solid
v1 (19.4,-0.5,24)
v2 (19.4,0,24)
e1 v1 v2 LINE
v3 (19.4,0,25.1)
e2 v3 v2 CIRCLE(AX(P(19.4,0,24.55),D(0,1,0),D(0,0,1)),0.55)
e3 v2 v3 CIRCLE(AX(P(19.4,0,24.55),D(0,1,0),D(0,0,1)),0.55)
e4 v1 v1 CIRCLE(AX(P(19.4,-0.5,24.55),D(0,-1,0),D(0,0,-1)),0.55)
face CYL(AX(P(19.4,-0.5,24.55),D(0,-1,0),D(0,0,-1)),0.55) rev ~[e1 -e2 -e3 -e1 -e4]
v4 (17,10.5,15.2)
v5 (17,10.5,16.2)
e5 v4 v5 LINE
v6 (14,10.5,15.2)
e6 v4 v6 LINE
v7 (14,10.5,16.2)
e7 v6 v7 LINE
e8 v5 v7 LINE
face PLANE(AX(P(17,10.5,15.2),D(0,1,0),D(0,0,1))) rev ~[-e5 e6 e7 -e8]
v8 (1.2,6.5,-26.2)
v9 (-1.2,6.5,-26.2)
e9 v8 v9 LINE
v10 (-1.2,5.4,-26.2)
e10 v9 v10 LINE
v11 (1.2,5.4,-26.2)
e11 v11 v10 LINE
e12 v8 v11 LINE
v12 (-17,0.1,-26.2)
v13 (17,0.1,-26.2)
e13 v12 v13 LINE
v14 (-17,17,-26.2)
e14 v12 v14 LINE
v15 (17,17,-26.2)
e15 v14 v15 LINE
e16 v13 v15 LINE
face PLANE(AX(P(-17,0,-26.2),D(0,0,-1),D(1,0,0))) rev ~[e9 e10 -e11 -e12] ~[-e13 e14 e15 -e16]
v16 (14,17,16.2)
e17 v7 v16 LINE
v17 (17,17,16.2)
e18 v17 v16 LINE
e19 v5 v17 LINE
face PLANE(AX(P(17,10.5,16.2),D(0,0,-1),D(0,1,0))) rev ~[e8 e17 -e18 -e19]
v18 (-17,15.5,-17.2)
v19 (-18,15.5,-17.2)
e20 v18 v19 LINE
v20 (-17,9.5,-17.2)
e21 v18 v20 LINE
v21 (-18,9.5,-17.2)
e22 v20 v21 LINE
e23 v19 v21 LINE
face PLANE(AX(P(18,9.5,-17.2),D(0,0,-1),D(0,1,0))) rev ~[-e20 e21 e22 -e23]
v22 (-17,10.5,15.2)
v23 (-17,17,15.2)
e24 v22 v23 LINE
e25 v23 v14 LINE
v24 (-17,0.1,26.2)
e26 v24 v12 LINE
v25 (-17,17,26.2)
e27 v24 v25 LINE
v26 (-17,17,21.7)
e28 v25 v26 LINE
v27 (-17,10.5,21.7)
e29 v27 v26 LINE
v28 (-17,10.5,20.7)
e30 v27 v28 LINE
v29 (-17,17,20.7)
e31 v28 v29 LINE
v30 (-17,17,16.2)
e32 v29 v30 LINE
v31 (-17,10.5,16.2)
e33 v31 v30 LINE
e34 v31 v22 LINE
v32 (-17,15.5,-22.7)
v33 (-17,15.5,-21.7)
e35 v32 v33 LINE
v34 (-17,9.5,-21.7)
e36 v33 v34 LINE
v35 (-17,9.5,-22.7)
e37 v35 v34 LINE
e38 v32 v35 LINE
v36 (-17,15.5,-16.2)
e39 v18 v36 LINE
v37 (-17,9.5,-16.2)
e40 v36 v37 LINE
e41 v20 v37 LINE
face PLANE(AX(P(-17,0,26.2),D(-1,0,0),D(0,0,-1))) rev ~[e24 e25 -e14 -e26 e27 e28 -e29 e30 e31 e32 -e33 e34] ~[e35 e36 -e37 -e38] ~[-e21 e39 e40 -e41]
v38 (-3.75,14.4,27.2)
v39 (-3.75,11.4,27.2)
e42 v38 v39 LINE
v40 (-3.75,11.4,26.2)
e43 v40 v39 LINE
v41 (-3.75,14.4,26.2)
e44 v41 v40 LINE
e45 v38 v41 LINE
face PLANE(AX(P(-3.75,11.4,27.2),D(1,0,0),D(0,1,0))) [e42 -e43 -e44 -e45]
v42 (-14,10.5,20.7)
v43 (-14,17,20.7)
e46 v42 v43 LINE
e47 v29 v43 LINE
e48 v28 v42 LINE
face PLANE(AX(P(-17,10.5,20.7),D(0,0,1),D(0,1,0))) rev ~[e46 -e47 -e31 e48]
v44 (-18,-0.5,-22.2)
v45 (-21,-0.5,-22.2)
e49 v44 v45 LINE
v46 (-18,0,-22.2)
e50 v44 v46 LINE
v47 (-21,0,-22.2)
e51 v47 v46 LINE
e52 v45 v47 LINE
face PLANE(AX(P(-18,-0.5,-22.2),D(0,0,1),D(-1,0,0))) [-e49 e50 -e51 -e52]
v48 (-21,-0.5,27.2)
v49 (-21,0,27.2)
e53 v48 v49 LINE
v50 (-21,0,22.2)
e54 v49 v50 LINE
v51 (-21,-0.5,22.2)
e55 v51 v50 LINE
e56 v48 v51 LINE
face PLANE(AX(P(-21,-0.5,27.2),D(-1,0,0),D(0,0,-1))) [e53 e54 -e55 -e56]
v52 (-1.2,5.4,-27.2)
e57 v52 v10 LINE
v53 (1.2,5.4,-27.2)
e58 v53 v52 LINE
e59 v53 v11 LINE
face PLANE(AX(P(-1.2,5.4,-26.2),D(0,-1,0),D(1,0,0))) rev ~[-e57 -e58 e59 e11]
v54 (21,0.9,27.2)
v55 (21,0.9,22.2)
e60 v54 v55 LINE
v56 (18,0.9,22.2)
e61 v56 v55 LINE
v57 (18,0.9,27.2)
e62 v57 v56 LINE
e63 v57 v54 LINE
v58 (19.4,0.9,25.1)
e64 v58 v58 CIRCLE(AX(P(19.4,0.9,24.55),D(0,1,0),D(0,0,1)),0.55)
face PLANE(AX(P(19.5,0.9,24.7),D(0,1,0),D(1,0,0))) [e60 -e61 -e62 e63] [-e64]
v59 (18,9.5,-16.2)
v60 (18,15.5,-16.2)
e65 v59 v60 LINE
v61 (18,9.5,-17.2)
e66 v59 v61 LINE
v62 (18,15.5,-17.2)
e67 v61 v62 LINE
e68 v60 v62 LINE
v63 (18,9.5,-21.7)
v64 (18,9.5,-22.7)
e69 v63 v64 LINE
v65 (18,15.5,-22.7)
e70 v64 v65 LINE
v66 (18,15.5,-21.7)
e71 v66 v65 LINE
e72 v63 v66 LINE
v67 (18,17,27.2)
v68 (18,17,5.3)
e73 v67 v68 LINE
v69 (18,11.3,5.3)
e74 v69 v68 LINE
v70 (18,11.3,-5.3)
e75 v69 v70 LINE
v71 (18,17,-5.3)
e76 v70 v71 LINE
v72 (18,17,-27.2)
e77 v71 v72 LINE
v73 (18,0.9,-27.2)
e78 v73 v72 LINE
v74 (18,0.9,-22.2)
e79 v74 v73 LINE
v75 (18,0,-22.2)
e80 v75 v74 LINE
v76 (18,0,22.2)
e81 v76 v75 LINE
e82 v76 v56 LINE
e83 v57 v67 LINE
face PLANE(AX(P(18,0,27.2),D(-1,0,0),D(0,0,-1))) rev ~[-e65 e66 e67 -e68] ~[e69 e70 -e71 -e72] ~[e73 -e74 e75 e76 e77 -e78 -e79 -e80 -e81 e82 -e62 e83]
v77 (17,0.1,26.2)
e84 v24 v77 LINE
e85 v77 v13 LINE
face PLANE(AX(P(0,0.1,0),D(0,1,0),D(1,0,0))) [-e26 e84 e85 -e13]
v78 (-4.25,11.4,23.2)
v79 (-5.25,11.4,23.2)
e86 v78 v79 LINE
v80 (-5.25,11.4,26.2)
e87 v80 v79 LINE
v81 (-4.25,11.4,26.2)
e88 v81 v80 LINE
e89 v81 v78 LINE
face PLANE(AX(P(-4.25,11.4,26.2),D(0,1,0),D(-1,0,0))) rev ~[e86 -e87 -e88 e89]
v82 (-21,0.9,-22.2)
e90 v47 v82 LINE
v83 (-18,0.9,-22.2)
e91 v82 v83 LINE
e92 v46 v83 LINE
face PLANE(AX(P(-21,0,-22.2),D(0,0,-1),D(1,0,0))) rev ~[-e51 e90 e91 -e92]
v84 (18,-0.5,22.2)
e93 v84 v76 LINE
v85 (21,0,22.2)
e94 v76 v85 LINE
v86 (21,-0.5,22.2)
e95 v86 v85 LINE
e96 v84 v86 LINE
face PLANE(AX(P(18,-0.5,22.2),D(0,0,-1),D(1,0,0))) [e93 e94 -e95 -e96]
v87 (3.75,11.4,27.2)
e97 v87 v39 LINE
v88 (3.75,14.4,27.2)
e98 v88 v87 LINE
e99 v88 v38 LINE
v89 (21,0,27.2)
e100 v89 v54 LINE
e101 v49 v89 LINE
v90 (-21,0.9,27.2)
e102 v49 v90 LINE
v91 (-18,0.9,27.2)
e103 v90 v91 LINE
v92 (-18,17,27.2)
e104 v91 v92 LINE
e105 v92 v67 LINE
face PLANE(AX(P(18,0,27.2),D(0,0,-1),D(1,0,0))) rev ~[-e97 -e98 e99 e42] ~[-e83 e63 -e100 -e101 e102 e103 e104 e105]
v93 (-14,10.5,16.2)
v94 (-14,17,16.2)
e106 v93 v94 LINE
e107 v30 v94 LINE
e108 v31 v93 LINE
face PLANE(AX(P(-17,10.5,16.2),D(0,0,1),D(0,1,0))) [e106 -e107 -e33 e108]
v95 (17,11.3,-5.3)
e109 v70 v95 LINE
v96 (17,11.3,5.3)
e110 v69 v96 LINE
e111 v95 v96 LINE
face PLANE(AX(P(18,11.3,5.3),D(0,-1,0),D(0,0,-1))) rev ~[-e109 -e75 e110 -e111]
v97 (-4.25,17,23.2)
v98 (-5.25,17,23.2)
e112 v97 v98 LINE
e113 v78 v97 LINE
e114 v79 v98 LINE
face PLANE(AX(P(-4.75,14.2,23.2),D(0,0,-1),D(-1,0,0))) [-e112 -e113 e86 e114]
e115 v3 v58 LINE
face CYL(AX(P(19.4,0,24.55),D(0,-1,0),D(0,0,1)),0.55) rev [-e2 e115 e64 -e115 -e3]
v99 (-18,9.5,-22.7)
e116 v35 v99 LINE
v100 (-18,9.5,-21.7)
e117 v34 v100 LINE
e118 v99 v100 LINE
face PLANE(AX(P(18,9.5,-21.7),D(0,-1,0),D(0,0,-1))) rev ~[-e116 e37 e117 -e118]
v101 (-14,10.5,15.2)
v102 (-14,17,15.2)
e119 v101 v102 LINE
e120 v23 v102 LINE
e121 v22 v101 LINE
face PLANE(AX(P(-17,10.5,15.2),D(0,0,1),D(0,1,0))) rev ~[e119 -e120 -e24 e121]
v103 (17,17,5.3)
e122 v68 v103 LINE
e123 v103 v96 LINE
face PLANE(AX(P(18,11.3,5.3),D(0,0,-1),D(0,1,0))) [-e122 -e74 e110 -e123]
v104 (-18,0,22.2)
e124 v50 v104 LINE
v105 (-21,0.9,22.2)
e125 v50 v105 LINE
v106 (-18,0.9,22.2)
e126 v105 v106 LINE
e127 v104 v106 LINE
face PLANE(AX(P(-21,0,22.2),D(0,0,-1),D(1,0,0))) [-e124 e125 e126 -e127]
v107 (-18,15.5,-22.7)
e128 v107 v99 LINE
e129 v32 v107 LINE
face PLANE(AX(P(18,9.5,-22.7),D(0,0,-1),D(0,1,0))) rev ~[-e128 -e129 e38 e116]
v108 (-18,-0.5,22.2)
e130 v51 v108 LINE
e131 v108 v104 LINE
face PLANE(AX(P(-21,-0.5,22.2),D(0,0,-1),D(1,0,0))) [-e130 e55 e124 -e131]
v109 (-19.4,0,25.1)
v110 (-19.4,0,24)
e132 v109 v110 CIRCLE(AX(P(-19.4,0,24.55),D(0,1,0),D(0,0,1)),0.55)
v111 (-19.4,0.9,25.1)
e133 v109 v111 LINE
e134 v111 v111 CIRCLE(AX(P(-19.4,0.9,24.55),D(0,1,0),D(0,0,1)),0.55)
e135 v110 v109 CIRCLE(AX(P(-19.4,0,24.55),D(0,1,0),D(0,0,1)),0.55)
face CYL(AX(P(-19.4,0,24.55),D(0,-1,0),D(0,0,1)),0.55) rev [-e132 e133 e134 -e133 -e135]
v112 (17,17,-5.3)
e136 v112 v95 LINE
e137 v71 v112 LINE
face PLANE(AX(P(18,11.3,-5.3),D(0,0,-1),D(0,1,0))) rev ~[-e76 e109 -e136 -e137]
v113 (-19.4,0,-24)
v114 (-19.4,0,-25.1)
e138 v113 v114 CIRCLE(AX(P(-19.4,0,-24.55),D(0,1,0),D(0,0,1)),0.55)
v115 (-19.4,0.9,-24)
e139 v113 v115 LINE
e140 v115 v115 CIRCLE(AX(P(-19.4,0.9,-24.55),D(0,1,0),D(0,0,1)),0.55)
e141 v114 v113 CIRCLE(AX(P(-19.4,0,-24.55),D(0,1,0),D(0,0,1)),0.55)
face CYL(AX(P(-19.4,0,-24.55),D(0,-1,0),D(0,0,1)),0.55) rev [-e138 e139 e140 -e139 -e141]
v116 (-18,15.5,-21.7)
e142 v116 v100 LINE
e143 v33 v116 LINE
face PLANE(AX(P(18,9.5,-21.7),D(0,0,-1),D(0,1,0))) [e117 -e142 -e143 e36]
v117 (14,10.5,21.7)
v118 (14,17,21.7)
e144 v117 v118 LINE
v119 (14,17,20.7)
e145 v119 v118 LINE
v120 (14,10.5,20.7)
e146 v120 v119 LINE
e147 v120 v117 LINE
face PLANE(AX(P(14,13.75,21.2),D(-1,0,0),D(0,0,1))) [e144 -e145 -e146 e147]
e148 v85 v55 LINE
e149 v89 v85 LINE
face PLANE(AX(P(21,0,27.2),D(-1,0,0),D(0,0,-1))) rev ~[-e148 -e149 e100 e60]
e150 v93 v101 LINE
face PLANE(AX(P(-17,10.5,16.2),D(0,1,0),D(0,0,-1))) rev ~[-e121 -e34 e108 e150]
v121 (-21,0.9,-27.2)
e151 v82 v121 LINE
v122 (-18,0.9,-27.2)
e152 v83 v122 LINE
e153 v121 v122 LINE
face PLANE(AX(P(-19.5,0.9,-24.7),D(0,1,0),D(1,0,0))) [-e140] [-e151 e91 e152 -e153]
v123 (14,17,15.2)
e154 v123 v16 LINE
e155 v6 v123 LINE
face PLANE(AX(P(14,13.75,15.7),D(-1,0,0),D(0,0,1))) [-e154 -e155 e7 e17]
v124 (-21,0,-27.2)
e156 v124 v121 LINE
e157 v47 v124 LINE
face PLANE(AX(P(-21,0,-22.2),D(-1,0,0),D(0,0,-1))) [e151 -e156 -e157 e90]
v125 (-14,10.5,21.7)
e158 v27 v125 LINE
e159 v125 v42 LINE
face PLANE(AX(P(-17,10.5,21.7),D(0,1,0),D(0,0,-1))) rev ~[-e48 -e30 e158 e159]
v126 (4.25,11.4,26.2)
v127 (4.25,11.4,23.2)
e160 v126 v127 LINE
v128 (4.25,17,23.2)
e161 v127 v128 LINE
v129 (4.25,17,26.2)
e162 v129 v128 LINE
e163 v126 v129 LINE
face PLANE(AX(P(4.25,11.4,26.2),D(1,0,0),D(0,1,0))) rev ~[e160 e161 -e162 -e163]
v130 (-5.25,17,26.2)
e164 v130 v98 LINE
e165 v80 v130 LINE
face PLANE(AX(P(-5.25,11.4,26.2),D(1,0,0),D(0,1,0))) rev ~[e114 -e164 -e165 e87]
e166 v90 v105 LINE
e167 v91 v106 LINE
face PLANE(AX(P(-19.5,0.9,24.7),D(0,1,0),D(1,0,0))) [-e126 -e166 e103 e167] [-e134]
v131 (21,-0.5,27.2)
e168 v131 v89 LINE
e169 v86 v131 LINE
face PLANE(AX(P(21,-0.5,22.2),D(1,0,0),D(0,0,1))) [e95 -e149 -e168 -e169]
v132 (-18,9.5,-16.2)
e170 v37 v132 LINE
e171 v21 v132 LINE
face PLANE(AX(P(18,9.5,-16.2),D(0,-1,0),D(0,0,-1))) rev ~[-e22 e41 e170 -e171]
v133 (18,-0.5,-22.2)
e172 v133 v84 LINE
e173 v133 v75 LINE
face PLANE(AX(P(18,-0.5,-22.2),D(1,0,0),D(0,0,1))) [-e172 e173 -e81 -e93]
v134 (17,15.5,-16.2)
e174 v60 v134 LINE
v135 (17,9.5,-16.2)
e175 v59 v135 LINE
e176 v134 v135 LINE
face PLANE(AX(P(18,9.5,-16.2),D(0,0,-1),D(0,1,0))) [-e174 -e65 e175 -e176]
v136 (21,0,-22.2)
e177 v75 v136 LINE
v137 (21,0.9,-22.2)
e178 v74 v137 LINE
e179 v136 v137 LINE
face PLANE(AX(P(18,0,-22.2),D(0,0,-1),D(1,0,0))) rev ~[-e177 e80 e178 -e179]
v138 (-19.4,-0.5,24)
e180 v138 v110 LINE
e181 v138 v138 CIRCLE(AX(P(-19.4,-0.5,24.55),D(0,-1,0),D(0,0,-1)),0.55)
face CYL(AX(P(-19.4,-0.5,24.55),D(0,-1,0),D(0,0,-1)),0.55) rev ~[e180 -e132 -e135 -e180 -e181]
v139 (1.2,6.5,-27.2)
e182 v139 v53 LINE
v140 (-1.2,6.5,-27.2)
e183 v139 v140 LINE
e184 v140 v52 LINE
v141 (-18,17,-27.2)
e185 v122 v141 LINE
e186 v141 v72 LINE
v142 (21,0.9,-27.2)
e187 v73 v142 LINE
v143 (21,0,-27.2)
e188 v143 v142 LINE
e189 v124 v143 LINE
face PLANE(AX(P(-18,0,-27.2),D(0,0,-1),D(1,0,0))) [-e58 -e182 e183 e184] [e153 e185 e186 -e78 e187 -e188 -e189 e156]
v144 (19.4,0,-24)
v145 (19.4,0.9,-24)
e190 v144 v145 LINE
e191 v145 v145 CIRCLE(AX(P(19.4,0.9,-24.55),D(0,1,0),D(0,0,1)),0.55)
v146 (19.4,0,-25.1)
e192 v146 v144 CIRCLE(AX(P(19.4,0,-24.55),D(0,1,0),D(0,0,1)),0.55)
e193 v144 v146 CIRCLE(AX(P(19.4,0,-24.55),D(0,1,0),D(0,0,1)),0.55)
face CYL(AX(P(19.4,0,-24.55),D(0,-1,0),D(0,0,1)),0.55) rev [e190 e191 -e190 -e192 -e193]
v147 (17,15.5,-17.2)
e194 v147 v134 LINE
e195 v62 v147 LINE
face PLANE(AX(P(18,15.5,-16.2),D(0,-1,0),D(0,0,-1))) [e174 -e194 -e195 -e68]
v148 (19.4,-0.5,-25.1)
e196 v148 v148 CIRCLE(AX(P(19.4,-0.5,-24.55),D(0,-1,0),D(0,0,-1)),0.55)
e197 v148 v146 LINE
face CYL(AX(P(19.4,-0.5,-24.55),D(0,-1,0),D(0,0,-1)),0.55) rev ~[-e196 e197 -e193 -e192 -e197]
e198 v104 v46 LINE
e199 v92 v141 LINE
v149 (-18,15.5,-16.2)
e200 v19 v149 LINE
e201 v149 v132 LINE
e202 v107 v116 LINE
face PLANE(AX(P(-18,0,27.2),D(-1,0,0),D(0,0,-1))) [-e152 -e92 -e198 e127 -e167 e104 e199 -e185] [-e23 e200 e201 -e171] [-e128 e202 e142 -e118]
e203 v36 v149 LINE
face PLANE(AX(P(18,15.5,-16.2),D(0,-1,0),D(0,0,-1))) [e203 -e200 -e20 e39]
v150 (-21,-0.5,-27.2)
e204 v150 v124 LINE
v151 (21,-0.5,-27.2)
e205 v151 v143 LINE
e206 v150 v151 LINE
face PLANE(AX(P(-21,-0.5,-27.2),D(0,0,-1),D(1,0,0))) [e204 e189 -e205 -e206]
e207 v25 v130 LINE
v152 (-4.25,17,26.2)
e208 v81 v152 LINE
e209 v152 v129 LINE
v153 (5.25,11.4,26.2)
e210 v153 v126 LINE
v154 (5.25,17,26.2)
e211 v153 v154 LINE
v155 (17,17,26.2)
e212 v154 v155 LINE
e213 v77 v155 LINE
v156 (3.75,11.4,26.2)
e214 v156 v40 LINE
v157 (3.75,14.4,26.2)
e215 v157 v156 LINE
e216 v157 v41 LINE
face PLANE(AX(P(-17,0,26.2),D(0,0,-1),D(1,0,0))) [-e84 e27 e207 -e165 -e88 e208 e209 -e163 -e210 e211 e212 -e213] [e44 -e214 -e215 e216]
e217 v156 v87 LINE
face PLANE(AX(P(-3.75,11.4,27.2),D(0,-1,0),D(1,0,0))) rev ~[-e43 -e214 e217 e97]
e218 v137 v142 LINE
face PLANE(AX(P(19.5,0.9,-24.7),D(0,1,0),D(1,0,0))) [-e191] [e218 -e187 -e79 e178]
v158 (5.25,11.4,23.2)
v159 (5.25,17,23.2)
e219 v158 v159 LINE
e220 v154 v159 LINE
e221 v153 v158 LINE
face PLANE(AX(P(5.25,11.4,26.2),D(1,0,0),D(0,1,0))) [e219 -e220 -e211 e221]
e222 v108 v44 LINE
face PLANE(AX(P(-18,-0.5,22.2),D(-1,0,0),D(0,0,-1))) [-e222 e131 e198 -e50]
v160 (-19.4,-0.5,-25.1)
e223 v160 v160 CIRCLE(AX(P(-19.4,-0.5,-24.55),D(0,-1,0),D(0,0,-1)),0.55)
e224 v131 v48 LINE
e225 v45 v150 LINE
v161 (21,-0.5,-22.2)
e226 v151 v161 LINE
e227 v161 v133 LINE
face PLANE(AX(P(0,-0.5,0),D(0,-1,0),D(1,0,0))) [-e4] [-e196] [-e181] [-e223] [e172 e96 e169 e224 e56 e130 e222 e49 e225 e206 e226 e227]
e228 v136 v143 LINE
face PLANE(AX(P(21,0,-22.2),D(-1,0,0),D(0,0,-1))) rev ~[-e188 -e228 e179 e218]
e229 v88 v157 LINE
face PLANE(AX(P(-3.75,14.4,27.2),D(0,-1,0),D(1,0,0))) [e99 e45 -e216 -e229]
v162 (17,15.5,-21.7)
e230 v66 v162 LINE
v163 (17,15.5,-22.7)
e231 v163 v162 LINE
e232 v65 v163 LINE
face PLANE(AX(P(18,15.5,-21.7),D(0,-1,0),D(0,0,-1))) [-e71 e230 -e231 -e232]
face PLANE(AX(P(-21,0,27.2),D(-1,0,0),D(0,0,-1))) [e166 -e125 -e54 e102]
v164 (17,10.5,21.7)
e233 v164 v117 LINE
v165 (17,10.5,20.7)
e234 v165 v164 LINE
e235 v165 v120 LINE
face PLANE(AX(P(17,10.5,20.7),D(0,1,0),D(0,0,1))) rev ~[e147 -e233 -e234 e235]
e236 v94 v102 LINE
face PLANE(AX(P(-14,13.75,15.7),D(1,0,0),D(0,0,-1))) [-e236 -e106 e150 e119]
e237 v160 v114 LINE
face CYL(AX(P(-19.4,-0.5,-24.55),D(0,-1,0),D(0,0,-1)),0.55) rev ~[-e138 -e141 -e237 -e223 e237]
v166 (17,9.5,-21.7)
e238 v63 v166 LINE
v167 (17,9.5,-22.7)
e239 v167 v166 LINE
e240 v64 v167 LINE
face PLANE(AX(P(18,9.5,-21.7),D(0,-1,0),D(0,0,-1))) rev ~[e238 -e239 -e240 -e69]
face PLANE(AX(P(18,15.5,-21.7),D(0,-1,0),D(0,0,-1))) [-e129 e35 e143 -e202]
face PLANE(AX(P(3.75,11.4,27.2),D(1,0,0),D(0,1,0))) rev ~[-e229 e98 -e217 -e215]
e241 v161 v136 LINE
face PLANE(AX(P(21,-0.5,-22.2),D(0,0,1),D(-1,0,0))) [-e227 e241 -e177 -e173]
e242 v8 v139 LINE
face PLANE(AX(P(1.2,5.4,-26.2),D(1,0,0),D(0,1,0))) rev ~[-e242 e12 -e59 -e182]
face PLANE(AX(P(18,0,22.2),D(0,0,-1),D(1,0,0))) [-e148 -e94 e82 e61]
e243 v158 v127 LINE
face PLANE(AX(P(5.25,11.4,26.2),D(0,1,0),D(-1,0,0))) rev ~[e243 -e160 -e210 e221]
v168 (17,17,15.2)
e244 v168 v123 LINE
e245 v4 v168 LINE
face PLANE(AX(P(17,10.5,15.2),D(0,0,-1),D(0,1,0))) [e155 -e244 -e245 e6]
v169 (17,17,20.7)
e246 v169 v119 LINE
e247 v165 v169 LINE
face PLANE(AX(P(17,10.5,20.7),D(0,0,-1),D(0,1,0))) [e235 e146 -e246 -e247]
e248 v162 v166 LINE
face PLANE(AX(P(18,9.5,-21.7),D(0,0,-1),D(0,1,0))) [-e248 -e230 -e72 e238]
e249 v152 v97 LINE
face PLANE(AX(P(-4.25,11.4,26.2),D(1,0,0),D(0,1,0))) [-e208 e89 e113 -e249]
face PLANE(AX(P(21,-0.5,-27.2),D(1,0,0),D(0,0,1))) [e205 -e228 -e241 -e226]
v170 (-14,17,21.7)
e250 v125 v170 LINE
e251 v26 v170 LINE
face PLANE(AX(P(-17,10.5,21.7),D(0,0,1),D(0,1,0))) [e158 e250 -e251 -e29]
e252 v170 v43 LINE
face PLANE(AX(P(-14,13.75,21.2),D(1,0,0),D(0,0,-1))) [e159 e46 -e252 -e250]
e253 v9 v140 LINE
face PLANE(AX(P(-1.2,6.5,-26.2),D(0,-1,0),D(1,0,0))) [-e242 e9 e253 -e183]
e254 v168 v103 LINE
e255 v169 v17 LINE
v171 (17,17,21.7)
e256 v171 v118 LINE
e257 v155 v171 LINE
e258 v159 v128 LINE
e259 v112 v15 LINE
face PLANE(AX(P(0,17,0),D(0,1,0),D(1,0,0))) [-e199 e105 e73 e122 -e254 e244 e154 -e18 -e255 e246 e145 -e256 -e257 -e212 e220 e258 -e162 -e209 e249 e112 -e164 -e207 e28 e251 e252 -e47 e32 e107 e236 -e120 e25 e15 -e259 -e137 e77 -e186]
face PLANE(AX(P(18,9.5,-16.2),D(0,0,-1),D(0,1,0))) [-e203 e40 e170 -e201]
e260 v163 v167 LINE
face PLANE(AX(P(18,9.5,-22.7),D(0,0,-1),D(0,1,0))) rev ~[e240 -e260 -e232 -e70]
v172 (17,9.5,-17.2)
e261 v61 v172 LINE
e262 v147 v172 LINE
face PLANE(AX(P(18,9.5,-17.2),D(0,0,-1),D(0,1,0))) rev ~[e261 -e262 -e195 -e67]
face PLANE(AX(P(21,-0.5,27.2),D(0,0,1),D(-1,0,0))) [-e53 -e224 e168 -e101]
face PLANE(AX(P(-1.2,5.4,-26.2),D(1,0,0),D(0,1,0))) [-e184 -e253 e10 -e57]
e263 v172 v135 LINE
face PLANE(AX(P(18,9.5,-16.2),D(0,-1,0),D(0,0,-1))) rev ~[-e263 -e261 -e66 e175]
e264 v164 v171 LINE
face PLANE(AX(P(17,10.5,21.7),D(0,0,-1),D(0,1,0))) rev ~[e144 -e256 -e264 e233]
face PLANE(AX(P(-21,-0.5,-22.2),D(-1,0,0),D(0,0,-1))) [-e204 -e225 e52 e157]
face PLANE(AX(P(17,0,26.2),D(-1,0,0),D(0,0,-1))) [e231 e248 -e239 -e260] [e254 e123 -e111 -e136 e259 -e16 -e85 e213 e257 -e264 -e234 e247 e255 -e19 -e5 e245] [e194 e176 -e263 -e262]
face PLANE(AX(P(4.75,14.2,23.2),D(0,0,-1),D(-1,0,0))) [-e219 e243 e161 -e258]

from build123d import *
from build123d.topology import SkipClean

# Parameters (mm, degrees)
ESBO_O1_W                = 36
ESBO_O1_H                = 54.4
ESBO_O1_W_2              = 34
ESBO_O1_H_2              = 52.4
RESSALTO_EXTRUS_O1_DEPTH = 17
ESBO_O2_W                = 34
ESBO_O2_H                = 52.4
RESSALTO_EXTRUS_O2_DEPTH = 0.1
ESBO_O3_W                = 7.5
ESBO_O3_H                = 3
CORTE_EXTRUS_O1_DEPTH    = 5.5
ESBO_O4_W                = 2.4
ESBO_O4_H                = 1.1
CORTE_EXTRUS_O2_DEPTH    = 5.5
ESBO_O5_W                = 3
ESBO_O5_H                = 5
ESBO_O5_R                = 0.55
RESSALTO_EXTRUS_O3_DEPTH = 0.9
ESBO_O7_W                = 10.6
ESBO_O7_H                = 5.7
CORTE_EXTRUS_O3_DEPTH    = 3
ESBO_O8_W                = 1
ESBO_O8_H                = 6.5
RESSALTO_EXTRUS_O4_DEPTH = 3
ESBO_O9_W                = 1
ESBO_O9_H                = 6.5
RESSALTO_EXTRUS_O5_DEPTH = 3
ESBO_O10_W               = 1
ESBO_O10_H               = 5.6
RESSALTO_EXTRUS_O6_DEPTH = 3
RESSALTO_EXTRUS_O7_START = 0.5
ESBO_O11_R               = 0.55
RESSALTO_EXTRUS_O7_DEPTH = 0.5
ESBO_O12_W               = 1
ESBO_O12_H               = 6
CORTE_EXTRUS_O4_DEPTH    = 40


with BuildPart() as part:
    # Esboço1 → Ressalto-extrusão1 (new body)
    with BuildSketch(Plane(origin=(0, 0, 0), x_dir=(1, 0, 0), z_dir=(0, 1, 0))):
        Rectangle(ESBO_O1_W, ESBO_O1_H)
        Rectangle(ESBO_O1_W_2, ESBO_O1_H_2, mode=Mode.SUBTRACT)
    extrude(amount=RESSALTO_EXTRUS_O1_DEPTH)

    # Esboço2 → Ressalto-extrusão2 (add)
    with BuildSketch(Plane(origin=(0, 0, 0), x_dir=(1, 0, 0), z_dir=(0, 1, 0))):
        Rectangle(ESBO_O2_W, ESBO_O2_H)
    extrude(amount=RESSALTO_EXTRUS_O2_DEPTH)

    # Esboço3 → Corte-extrusão1 (cut, symmetric)
    with BuildSketch(Plane.XY.offset(27.2)):
        with Locations((0, 12.9)):
            Rectangle(ESBO_O3_W, ESBO_O3_H)
    extrude(amount=CORTE_EXTRUS_O1_DEPTH, both=True, mode=Mode.SUBTRACT)

    # Esboço4 → Corte-extrusão2 (cut, symmetric)
    with BuildSketch(Plane.XY.offset(-26.2)):
        with Locations((0, 5.95)):
            Rectangle(ESBO_O4_W, ESBO_O4_H)
    extrude(amount=CORTE_EXTRUS_O2_DEPTH, both=True, mode=Mode.SUBTRACT)

    # Esboço5 → Ressalto-extrusão3 (add)
    # profile 1 of 4: a face of its own
    with BuildSketch(Plane(origin=(0, 0, 0), x_dir=(1, 0, 0), z_dir=(0, 1, 0))):
        with Locations((19.5, -24.7)):
            Rectangle(ESBO_O5_W, ESBO_O5_H)
        with Locations(Location((19.4, -24.55, 0), (0, 0, 270))):
            Circle(ESBO_O5_R, mode=Mode.SUBTRACT)
    # profile 2 of 4: a face of its own
    with BuildSketch(Plane(origin=(0, 0, 0), x_dir=(1, 0, 0), z_dir=(0, 1, 0))):
        with Locations((-19.5, -24.7)):
            Rectangle(ESBO_O5_W, ESBO_O5_H)
        with Locations(Location((-19.4, -24.55, 0), (0, 0, 270))):
            Circle(ESBO_O5_R, mode=Mode.SUBTRACT)
    # profile 3 of 4: a face of its own
    with BuildSketch(Plane(origin=(0, 0, 0), x_dir=(1, 0, 0), z_dir=(0, 1, 0))):
        with Locations((-19.5, 24.7)):
            Rectangle(ESBO_O5_W, ESBO_O5_H)
        with Locations(Location((-19.4, 24.55, 0), (0, 0, 270))):
            Circle(ESBO_O5_R, mode=Mode.SUBTRACT)
    # profile 4 of 4: a face of its own
    with BuildSketch(Plane(origin=(0, 0, 0), x_dir=(1, 0, 0), z_dir=(0, 1, 0))):
        with Locations((19.5, 24.7)):
            Rectangle(ESBO_O5_W, ESBO_O5_H)
        with Locations(Location((19.4, 24.55, 0), (0, 0, 270))):
            Circle(ESBO_O5_R, mode=Mode.SUBTRACT)
    extrude(amount=RESSALTO_EXTRUS_O3_DEPTH)

    # Esboço7 → Corte-extrusão3 (cut)
    with BuildSketch(Plane(origin=(18, 0, 0), x_dir=(0, 0, -1), z_dir=(1, 0, 0))):
        with Locations((0, 14.15)):
            Rectangle(ESBO_O7_W, ESBO_O7_H)
    extrude(amount=-CORTE_EXTRUS_O3_DEPTH, mode=Mode.SUBTRACT)

    # Esboço8 → Ressalto-extrusão4 (add)
    with BuildSketch(Plane.ZY.offset(-17)):
        with Locations((15.7, 13.75)):
            Rectangle(ESBO_O8_W, ESBO_O8_H)
        with Locations((21.2, 13.75)):
            Rectangle(ESBO_O8_W, ESBO_O8_H)
    extrude(amount=RESSALTO_EXTRUS_O4_DEPTH)

    # Esboço9 → Ressalto-extrusão5 (add)
    with BuildSketch(Plane(origin=(-17, 0, 0), x_dir=(0, 0, -1), z_dir=(1, 0, 0))):
        with Locations((-21.2, 13.75)):
            Rectangle(ESBO_O9_W, ESBO_O9_H)
        with Locations((-15.7, 13.75)):
            Rectangle(ESBO_O9_W, ESBO_O9_H)
    extrude(amount=RESSALTO_EXTRUS_O5_DEPTH)

    # Esboço10 → Ressalto-extrusão6 (add)
    with BuildSketch(Plane(origin=(0, 0, 26.2), x_dir=(-1, 0, 0), z_dir=(0, 0, -1))):
        with Locations((4.75, 14.2)):
            Rectangle(ESBO_O10_W, ESBO_O10_H)
        with Locations((-4.75, 14.2)):
            Rectangle(ESBO_O10_W, ESBO_O10_H)
    extrude(amount=RESSALTO_EXTRUS_O6_DEPTH)

    # Esboço11 → Ressalto-extrusão7 (add)
    with SkipClean():  # the faces are left unmerged after this step: merging them gives an invalid solid
        with BuildSketch(Plane.XZ.offset(RESSALTO_EXTRUS_O7_START)):
            Polygon((-18, 22.2), (-18, -22.2), (-21, -22.2), (-21, -27.2), (21, -27.2), (21, -22.2), (18, -22.2), (18, 22.2), (21, 22.2), (21, 27.2), (-21, 27.2), (-21, 22.2), align=None)
            with Locations(Location((19.4, -24.55, 0), (0, 0, 270))):
                Circle(ESBO_O11_R, mode=Mode.SUBTRACT)
            with Locations(Location((19.4, 24.55, 0), (0, 0, 270))):
                Circle(ESBO_O11_R, mode=Mode.SUBTRACT)
            with Locations(Location((-19.4, 24.55, 0), (0, 0, 270))):
                Circle(ESBO_O11_R, mode=Mode.SUBTRACT)
            with Locations(Location((-19.4, -24.55, 0), (0, 0, 270))):
                Circle(ESBO_O11_R, mode=Mode.SUBTRACT)
        extrude(amount=-RESSALTO_EXTRUS_O7_DEPTH)

    # Esboço12 → Corte-extrusão4 (cut)
    with SkipClean():  # the faces are left unmerged after this step: merging them gives an invalid solid
        with BuildSketch(Plane(origin=(18, 0, 0), x_dir=(0, 0, -1), z_dir=(1, 0, 0))):
            with Locations((22.2, 12.5)):
                Rectangle(ESBO_O12_W, ESBO_O12_H)
            with Locations((16.7, 12.5)):
                Rectangle(ESBO_O12_W, ESBO_O12_H)
        extrude(amount=-CORTE_EXTRUS_O4_DEPTH, mode=Mode.SUBTRACT)


solid = part.part
